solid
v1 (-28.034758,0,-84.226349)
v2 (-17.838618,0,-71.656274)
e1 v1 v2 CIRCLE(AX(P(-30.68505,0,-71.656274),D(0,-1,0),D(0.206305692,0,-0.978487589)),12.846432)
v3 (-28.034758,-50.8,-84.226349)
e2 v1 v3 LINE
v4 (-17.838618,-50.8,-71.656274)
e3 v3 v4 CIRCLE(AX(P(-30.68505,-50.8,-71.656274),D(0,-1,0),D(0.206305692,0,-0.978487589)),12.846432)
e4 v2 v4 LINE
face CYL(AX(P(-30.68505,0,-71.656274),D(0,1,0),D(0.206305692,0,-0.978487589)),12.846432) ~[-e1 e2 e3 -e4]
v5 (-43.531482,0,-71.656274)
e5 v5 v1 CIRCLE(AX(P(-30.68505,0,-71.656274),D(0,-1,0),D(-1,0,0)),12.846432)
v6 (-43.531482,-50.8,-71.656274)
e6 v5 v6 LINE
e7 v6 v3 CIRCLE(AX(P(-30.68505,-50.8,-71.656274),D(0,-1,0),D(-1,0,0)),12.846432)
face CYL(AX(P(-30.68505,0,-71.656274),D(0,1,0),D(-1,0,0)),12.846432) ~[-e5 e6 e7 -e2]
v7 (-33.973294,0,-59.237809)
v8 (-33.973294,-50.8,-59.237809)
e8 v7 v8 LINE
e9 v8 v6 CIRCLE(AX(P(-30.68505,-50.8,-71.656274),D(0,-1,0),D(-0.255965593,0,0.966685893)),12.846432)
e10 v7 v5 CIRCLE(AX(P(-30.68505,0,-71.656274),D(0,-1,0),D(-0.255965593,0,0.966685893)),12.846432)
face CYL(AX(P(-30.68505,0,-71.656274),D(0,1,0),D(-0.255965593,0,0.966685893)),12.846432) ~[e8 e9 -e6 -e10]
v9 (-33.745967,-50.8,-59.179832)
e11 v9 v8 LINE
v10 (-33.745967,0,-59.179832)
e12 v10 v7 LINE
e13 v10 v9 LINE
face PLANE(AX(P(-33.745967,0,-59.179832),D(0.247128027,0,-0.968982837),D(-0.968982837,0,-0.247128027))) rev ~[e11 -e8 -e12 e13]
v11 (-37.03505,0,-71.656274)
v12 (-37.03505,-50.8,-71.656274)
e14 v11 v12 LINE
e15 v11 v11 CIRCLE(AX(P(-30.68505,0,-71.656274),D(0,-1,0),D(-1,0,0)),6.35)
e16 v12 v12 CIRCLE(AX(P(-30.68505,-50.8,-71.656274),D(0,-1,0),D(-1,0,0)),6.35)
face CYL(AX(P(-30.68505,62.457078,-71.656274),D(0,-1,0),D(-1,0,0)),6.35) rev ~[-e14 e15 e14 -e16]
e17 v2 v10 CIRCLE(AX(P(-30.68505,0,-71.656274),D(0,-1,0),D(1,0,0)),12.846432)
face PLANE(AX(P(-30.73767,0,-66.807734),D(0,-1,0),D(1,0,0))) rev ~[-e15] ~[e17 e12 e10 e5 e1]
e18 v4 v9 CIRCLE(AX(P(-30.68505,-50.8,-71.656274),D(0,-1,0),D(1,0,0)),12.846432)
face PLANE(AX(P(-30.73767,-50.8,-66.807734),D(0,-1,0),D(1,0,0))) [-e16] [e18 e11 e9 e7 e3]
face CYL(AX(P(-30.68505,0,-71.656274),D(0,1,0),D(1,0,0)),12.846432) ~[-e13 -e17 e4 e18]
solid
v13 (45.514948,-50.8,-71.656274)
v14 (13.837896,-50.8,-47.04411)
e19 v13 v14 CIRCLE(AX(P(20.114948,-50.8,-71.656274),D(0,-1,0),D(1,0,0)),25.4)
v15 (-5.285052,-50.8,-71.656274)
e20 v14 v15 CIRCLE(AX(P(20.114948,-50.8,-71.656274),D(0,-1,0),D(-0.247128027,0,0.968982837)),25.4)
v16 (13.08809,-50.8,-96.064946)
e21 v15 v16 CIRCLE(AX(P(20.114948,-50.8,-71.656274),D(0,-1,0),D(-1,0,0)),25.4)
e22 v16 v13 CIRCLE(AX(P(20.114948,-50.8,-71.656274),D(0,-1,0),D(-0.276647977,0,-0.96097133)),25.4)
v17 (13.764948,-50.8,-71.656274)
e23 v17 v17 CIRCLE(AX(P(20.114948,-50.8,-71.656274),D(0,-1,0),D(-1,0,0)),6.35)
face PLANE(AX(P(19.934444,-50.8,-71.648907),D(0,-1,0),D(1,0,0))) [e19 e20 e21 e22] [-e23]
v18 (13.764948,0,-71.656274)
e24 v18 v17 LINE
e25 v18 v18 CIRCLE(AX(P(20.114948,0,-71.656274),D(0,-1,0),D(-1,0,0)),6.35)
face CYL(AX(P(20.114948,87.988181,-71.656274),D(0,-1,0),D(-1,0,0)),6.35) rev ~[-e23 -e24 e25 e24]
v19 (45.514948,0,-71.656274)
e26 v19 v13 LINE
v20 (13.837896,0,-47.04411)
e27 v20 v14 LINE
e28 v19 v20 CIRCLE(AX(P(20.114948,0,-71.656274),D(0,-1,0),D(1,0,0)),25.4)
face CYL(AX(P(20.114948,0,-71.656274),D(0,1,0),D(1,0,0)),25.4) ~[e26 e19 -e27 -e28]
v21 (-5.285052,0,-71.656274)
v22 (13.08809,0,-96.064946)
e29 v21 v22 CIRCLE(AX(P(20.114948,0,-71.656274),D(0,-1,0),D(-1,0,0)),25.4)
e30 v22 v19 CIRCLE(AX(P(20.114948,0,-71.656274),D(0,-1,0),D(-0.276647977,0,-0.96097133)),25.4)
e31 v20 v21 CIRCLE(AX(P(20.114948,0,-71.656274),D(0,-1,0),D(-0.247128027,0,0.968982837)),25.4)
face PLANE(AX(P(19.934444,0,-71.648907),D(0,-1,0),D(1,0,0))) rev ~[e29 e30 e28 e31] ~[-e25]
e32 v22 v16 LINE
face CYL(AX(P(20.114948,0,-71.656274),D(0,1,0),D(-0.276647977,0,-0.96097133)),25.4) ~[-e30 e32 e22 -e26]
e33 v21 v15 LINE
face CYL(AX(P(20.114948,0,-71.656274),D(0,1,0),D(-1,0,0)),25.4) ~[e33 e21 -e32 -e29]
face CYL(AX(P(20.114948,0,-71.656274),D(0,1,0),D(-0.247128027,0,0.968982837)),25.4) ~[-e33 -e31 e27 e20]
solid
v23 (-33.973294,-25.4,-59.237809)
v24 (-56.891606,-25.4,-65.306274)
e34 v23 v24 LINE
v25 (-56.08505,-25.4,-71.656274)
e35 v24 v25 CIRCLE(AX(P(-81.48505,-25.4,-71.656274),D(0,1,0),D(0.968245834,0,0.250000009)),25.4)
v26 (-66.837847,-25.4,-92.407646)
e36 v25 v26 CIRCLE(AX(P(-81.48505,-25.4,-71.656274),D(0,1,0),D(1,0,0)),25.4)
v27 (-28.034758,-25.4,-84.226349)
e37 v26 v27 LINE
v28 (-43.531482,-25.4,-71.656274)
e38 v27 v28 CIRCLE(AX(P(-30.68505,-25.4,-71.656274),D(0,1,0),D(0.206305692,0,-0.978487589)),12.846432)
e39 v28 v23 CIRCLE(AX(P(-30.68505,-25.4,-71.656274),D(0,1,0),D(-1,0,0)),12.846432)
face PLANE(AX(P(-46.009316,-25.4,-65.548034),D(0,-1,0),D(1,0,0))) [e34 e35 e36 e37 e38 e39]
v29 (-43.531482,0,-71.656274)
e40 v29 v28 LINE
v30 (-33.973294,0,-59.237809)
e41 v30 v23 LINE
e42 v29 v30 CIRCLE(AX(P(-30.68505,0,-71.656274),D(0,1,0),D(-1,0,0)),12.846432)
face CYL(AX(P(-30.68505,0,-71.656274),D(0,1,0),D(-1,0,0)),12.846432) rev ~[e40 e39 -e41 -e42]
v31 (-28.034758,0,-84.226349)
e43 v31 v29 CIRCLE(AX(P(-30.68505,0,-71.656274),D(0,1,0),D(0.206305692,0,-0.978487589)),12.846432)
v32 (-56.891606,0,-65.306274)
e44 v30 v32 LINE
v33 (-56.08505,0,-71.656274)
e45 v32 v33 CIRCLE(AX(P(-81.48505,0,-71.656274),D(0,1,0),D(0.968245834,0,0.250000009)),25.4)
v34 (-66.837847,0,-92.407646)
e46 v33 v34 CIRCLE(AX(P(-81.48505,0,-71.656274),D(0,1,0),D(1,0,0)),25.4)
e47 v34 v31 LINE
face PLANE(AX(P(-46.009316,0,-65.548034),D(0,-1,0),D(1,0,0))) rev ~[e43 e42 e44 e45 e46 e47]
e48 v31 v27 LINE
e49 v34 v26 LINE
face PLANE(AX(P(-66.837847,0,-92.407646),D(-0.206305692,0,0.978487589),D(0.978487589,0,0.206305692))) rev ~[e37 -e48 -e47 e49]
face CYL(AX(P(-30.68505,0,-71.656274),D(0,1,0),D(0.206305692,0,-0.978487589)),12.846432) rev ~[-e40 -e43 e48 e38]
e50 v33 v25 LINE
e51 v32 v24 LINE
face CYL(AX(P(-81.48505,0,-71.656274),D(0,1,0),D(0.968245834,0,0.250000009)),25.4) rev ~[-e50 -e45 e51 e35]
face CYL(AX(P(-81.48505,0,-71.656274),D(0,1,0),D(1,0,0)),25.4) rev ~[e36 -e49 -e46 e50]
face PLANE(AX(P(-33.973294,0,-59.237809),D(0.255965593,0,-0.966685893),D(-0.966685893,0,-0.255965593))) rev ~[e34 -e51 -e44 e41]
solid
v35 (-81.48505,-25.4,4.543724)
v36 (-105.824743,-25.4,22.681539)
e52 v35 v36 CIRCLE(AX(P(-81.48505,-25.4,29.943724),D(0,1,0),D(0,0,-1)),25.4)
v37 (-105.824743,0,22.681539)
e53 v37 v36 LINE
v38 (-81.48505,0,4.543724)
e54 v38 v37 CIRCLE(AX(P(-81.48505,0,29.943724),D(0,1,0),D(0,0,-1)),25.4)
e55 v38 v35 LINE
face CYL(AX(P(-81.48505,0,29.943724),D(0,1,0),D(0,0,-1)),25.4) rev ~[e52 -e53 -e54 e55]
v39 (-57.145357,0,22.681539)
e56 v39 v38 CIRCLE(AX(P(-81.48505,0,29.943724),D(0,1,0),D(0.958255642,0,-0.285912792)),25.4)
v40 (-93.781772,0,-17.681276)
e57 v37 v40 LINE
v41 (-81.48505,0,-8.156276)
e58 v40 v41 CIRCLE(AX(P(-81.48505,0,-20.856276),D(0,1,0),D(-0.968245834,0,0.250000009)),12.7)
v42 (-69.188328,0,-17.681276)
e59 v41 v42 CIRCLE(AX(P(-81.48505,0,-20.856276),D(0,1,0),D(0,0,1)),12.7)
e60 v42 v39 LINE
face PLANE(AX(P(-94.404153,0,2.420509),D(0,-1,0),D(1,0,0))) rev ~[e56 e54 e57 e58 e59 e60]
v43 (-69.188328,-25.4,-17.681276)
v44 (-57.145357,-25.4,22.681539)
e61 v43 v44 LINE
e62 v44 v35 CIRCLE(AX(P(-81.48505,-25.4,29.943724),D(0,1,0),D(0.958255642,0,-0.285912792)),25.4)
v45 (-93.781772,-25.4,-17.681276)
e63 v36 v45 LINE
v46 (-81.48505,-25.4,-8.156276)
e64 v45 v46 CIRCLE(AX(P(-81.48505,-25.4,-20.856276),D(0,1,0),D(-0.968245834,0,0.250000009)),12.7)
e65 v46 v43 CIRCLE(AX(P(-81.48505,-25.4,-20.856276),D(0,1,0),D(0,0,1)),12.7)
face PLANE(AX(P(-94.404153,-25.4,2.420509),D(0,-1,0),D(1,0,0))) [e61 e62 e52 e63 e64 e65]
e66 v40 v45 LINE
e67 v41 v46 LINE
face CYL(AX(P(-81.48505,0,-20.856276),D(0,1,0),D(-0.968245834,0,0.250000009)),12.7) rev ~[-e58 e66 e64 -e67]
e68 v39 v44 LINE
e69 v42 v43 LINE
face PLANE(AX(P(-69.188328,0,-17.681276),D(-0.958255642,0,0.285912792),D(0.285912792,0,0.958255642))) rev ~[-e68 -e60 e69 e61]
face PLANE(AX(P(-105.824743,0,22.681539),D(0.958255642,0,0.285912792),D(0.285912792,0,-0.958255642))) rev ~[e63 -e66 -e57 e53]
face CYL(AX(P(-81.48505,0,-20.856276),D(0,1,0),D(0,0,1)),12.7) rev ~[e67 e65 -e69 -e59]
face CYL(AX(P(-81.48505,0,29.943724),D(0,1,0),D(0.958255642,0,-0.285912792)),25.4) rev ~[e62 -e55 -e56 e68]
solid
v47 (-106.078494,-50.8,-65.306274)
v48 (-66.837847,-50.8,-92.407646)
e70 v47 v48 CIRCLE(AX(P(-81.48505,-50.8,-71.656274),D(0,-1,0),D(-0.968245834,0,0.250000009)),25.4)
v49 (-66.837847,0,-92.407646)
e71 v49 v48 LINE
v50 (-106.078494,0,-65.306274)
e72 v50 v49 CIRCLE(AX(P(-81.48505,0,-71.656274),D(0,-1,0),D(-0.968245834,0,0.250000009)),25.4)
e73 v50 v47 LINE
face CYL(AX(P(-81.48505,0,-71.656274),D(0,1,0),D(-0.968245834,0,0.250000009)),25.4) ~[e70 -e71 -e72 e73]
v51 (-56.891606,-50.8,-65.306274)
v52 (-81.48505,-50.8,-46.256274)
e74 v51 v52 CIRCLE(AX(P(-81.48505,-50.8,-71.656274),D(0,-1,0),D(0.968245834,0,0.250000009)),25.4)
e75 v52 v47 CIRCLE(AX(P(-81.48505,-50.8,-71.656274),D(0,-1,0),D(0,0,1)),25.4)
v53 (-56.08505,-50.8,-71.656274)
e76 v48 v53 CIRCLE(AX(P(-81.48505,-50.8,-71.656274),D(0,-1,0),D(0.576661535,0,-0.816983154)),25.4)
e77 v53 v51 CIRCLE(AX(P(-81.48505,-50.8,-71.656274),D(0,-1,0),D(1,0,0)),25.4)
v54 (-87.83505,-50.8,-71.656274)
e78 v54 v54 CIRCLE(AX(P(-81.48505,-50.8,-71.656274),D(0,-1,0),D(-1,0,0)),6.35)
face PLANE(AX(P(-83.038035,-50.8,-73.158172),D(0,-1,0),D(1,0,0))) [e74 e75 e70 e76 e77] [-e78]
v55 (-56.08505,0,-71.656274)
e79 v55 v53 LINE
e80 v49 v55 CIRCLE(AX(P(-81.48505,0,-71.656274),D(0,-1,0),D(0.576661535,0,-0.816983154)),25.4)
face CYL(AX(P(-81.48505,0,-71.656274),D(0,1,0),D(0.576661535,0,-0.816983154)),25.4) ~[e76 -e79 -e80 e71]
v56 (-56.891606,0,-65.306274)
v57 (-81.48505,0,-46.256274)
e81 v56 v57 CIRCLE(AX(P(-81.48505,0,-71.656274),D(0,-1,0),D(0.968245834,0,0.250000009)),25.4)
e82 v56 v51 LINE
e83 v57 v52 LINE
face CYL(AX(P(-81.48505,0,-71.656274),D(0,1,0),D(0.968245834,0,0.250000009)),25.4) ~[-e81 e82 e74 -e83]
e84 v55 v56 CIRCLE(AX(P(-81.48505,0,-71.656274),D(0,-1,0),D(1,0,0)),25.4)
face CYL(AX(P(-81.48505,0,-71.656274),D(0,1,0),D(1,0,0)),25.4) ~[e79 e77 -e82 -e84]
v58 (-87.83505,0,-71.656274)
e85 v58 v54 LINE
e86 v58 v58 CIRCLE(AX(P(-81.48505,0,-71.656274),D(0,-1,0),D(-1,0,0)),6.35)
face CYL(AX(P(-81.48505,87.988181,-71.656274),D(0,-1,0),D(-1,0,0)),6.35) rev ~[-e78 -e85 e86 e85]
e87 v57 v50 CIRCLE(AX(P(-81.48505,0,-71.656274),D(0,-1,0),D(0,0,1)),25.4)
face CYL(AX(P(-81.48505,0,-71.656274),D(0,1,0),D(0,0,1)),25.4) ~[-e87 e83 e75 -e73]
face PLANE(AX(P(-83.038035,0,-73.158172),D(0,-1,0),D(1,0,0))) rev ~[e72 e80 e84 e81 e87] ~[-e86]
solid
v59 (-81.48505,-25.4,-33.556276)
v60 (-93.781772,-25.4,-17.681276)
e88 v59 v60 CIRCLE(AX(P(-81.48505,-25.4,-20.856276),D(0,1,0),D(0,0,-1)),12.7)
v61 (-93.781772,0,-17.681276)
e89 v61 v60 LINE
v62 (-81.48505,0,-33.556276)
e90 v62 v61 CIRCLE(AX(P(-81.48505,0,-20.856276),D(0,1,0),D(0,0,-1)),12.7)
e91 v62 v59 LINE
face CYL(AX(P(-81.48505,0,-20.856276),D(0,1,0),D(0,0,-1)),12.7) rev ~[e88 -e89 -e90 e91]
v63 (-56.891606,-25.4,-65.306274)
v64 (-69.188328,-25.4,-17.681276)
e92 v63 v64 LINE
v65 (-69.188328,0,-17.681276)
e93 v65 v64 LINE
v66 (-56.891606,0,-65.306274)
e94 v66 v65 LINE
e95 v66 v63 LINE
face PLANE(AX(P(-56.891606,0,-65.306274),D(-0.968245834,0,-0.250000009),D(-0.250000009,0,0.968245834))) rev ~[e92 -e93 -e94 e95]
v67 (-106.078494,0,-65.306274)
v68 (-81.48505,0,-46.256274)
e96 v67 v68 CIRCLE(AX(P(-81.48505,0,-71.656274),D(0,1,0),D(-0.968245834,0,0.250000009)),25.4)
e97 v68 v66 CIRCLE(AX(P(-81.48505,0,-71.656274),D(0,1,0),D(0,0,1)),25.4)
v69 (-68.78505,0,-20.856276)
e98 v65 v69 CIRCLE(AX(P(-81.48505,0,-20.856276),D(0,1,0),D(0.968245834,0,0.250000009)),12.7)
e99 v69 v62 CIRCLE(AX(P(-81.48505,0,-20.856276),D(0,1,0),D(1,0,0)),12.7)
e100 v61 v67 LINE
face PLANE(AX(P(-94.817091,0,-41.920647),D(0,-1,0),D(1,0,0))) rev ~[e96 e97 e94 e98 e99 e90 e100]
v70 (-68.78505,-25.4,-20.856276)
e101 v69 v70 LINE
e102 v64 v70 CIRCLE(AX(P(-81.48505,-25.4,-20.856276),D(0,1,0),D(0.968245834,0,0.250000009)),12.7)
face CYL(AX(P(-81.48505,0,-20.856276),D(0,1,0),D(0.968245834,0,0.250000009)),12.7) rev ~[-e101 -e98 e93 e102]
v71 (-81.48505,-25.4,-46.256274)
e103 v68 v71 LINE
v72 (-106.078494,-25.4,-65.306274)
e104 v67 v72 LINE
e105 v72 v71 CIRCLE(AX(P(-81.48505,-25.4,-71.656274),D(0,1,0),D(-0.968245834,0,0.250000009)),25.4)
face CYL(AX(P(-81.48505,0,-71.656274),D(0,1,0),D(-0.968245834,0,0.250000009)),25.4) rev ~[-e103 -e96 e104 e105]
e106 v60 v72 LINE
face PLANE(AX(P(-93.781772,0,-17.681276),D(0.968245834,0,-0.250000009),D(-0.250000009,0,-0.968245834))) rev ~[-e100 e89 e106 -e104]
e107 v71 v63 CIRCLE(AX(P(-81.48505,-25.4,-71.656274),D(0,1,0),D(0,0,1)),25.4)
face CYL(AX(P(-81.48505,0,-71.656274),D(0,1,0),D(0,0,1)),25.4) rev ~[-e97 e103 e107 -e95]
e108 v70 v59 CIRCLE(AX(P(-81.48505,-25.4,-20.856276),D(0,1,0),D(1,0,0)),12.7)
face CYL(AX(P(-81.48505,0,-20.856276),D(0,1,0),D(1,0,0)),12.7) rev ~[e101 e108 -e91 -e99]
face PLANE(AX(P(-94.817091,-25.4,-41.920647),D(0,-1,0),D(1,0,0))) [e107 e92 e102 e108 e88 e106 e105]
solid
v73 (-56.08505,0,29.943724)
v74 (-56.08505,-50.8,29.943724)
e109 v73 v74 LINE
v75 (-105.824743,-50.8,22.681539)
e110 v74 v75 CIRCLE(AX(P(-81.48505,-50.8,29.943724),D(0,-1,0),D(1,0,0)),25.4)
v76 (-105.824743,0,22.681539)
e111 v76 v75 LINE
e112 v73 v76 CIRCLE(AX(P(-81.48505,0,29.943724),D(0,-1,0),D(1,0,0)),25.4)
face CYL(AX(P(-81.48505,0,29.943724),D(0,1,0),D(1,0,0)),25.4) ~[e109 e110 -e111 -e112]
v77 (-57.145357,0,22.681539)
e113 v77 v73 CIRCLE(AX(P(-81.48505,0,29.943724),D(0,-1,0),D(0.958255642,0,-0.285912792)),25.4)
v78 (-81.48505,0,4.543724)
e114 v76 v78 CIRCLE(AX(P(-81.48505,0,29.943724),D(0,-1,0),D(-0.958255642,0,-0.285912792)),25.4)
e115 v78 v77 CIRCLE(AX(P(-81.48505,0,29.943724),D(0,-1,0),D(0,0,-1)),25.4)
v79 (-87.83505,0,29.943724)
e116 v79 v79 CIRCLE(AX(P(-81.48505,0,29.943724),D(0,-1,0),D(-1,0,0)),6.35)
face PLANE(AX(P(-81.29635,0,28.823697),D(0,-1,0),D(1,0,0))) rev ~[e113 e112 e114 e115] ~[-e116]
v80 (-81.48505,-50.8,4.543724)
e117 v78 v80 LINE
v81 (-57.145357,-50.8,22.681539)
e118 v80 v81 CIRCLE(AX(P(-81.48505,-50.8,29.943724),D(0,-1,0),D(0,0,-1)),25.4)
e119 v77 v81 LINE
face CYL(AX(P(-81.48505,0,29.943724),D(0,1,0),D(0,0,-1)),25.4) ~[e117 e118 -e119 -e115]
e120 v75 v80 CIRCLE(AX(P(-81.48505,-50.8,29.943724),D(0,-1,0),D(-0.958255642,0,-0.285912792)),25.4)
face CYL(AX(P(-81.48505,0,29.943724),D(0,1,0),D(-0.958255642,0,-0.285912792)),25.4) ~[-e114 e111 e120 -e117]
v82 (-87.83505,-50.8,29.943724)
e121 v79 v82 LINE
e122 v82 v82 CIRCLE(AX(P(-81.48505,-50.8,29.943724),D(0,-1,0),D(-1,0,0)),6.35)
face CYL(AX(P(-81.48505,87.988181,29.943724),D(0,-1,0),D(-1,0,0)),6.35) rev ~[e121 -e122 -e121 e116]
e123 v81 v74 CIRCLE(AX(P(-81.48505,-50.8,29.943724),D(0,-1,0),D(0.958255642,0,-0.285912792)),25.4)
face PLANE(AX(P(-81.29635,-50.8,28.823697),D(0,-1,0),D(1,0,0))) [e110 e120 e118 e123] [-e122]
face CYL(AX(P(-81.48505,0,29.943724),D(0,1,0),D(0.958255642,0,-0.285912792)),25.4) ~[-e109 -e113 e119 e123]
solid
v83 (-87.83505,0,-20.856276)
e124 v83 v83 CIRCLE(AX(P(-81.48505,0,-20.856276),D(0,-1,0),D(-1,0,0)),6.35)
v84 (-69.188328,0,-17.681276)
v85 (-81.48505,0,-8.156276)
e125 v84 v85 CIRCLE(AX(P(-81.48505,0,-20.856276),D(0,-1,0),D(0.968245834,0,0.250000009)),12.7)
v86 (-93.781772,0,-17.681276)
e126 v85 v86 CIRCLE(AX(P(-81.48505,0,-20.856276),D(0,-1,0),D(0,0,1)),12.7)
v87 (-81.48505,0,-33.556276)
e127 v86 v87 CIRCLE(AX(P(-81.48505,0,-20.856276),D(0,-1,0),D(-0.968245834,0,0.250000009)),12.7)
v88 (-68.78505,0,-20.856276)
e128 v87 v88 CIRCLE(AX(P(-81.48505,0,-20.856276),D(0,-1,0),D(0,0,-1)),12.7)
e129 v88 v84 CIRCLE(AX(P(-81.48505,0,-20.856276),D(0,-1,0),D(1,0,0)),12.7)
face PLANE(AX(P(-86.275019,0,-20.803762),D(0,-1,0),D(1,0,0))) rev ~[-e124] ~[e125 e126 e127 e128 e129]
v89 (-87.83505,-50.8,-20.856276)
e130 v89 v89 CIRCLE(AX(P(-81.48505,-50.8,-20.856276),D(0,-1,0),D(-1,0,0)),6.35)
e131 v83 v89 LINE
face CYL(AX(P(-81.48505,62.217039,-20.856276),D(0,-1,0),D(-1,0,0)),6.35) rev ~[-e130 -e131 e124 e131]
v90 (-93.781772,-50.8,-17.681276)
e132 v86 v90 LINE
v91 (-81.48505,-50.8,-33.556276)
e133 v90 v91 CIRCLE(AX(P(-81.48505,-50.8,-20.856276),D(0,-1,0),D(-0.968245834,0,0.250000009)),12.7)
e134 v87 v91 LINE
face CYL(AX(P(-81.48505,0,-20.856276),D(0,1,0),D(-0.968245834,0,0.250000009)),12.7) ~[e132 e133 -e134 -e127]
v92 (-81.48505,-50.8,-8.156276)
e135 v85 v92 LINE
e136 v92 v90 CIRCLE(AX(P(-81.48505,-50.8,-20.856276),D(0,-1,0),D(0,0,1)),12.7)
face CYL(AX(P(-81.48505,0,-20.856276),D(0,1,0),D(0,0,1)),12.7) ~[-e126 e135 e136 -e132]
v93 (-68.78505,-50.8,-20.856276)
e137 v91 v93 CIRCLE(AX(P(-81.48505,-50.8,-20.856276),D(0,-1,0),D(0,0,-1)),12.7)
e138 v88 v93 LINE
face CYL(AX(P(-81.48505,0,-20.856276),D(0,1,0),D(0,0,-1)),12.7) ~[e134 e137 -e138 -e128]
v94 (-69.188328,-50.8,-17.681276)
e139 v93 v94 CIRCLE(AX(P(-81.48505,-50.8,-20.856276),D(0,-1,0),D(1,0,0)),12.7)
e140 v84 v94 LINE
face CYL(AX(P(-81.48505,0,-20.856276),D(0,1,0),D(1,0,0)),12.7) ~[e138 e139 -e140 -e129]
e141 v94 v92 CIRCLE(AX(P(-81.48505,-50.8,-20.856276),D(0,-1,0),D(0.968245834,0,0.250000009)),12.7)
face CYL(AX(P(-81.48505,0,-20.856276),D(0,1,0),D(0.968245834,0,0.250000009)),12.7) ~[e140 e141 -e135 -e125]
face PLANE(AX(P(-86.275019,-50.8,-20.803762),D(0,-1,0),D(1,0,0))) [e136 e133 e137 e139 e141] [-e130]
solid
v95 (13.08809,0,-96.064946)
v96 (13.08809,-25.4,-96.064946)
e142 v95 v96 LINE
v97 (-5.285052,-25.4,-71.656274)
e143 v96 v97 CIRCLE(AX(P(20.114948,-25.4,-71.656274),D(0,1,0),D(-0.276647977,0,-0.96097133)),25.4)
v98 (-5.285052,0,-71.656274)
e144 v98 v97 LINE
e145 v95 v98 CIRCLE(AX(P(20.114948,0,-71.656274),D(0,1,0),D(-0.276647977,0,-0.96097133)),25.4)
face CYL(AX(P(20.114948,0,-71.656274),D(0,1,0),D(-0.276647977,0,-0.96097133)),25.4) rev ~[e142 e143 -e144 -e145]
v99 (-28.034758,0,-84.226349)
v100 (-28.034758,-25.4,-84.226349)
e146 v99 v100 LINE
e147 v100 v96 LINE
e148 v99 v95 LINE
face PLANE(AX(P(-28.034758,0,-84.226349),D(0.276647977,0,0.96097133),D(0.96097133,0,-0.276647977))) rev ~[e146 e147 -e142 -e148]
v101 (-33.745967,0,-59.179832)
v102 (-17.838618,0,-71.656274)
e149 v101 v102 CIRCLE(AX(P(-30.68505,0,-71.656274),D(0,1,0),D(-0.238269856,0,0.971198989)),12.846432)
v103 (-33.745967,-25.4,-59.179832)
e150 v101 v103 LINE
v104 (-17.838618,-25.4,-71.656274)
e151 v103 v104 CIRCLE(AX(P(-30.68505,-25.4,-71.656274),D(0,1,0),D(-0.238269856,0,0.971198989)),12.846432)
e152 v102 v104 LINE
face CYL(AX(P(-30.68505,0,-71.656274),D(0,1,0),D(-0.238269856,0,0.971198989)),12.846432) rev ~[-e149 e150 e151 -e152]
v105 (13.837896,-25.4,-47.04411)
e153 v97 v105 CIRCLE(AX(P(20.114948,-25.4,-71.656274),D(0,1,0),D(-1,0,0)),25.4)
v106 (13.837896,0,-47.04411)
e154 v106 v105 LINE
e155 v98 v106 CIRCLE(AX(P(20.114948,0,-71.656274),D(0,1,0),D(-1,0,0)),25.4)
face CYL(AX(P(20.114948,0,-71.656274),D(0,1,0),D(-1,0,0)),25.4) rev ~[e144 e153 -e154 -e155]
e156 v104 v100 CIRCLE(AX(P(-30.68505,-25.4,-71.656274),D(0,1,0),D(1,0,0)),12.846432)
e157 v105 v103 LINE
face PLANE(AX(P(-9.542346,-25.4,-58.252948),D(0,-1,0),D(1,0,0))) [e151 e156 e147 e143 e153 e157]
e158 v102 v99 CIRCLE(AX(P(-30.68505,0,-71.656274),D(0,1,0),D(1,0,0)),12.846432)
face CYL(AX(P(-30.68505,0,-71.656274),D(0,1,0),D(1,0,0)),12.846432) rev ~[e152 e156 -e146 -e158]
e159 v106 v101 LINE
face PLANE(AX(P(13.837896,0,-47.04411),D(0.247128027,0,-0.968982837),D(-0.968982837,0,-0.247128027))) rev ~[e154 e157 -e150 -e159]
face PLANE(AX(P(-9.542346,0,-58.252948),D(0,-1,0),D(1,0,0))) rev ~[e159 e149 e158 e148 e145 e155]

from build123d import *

# Parameters (mm, degrees)
F1_DEPTH = 50.8
F2_DEPTH = 25.4
F3_D     = 12.7
F3_2_D   = 12.7
F3_3_D   = 12.7
F3_4_D   = 12.7
F3_5_D   = 12.7


with BuildPart() as f1:
    # F0 (on Front) → F1 (new body)
    with BuildSketch(Plane.XZ):
        with BuildLine():
            ThreePointArc((-81.4850498225, 4.5437239793), (-66.3077558729, 9.5768452697), (-57.1453565147, 22.6815390684))
            ThreePointArc((-57.1453565147, 22.6815390684), (-56.3515243036, 26.2741334039), (-56.0850498225, 29.9437239793))
            ThreePointArc((-56.0850498225, 29.9437239793), (-85.1546403978, 55.0772494982), (-105.8247431304, 22.6815390684))
            ThreePointArc((-105.8247431304, 22.6815390684), (-96.6623437721, 9.5768452697), (-81.4850498225, 4.5437239793))
        make_face()
    extrude(amount=F1_DEPTH)

    # F3 (through all)
    with Locations(Plane(origin=(0, 0, 0), x_dir=(1, 0, 0), z_dir=(0, 1, 0))):
        with Locations((-81.4850498225, -29.9437239793), (-81.4850498225, 20.8562760207), (-81.4850498225, 71.6562741589), (-30.6850498225, 71.6562741589), (20.1149483157, 71.6562741589)):
            Hole(F3_D / 2)


with BuildPart() as f1b:
    # F0 (on Front) → F1, piece 2 (new body)
    with BuildSketch(Plane.XZ):
        with BuildLine():
            Line((-56.0850498225, -71.6562741589), (-81.4850498225, -71.6562741589))
            Line((-81.4850498225, -71.6562741589), (-81.4850498225, -46.2562741589))
            ThreePointArc((-81.4850498225, -46.2562741589), (-97.0393095942, -51.5758109432), (-106.0784940108, -65.3062739262))
            ThreePointArc((-106.0784940108, -65.3062739262), (-95.9194886513, -92.5562018071), (-66.8378468362, -92.4076462744))
            ThreePointArc((-66.8378468362, -92.4076462744), (-58.9328996384, -83.3421854231), (-56.0850498225, -71.6562741589))
        make_face()
        with BuildLine():
            Line((-81.4850498225, -46.2562741589), (-81.4850498225, -71.6562741589))
            Line((-81.4850498225, -71.6562741589), (-56.0850498225, -71.6562741589))
            ThreePointArc((-56.0850498225, -71.6562741589), (-56.2874955525, -68.4557650106), (-56.8916056342, -65.3062739262))
            ThreePointArc((-56.8916056342, -65.3062739262), (-65.9307900508, -51.5758109432), (-81.4850498225, -46.2562741589))
        make_face()
    extrude(amount=F1_DEPTH)

    # F3#2 (through all)
    with Locations(Plane(origin=(0, 0, 0), x_dir=(1, 0, 0), z_dir=(0, 1, 0))):
        with Locations((-81.4850498225, -29.9437239793), (-81.4850498225, 20.8562760207), (-81.4850498225, 71.6562741589), (-30.6850498225, 71.6562741589), (20.1149483157, 71.6562741589)):
            Hole(F3_2_D / 2)


with BuildPart() as f1c:
    # F0 (on Front) → F1, piece 3 (new body)
    with BuildSketch(Plane.XZ):
        with BuildLine():
            ThreePointArc((-5.2850516843, -71.6562741589), (-0.1784275618, -86.9317085389), (13.0880896934, -96.0649459356))
            ThreePointArc((13.0880896934, -96.0649459356), (35.3903826957, -91.9496500363), (45.5149483157, -71.6562741589))
            ThreePointArc((45.5149483157, -71.6562741589), (35.6989606694, -51.5988925013), (13.8378964291, -47.044110101))
            ThreePointArc((13.8378964291, -47.044110101), (0.057566658, -56.0722618052), (-5.2850516843, -71.6562741589))
        make_face()
    extrude(amount=F1_DEPTH)

    # F3#3 (through all)
    with Locations(Plane(origin=(0, 0, 0), x_dir=(1, 0, 0), z_dir=(0, 1, 0))):
        with Locations((-81.4850498225, -29.9437239793), (-81.4850498225, 20.8562760207), (-81.4850498225, 71.6562741589), (-30.6850498225, 71.6562741589), (20.1149483157, 71.6562741589)):
            Hole(F3_3_D / 2)


with BuildPart() as f1d:
    # F0 (on Front) → F1, piece 4 (new body)
    with BuildSketch(Plane.XZ):
        with BuildLine():
            ThreePointArc((-93.7817719167, -17.6812759044), (-91.5252814303, -28.6334059066), (-81.4850498225, -33.5562760207))
            Line((-81.4850498225, -33.5562760207), (-81.4850498225, -20.8562760207))
            Line((-81.4850498225, -20.8562760207), (-81.4850498225, -8.1562760207))
            ThreePointArc((-81.4850498225, -8.1562760207), (-89.2621797083, -10.8160444129), (-93.7817719167, -17.6812759044))
        make_face()
        with BuildLine():
            Line((-81.4850498225, -20.8562760207), (-81.4850498225, -33.5562760207))
            ThreePointArc((-81.4850498225, -33.5562760207), (-72.5047937014, -29.8365321418), (-68.7850498225, -20.8562760207))
            ThreePointArc((-68.7850498225, -20.8562760207), (-68.8862726875, -19.2560214466), (-69.1883277283, -17.6812759044))
            ThreePointArc((-69.1883277283, -17.6812759044), (-73.7079199367, -10.8160444129), (-81.4850498225, -8.1562760207))
            Line((-81.4850498225, -8.1562760207), (-81.4850498225, -20.8562760207))
        make_face()
    extrude(amount=F1_DEPTH)

    # F3#4 (through all)
    with Locations(Plane(origin=(0, 0, 0), x_dir=(1, 0, 0), z_dir=(0, 1, 0))):
        with Locations((-81.4850498225, -29.9437239793), (-81.4850498225, 20.8562760207), (-81.4850498225, 71.6562741589), (-30.6850498225, 71.6562741589), (20.1149483157, 71.6562741589)):
            Hole(F3_4_D / 2)


with BuildPart() as f1e:
    # F0 (on Front) → F1, piece 5 (new body)
    with BuildSketch(Plane.XZ):
        with BuildLine():
            ThreePointArc((-33.9732944715, -59.2378093359), (-40.865252019, -63.8208223741), (-43.5314820678, -71.6562741589))
            Line((-43.5314820678, -71.6562741589), (-30.6850498225, -71.6562741589))
            Line((-30.6850498225, -71.6562741589), (-17.8386175772, -71.6562741589))
            ThreePointArc((-17.8386175772, -71.6562741589), (-22.7569683581, -61.5480425763), (-33.7459673809, -59.1798321527))
            Line((-33.7459673809, -59.1798321527), (-33.9732944715, -59.2378093359))
        make_face()
        with BuildLine():
            Line((-30.6850498225, -71.6562741589), (-43.5314820678, -71.6562741589))
            ThreePointArc((-43.5314820678, -71.6562741589), (-38.7777633216, -81.6331879931), (-28.0347577237, -84.2263486704))
            ThreePointArc((-28.0347577237, -84.2263486704), (-20.7081359883, -79.748987658), (-17.8386175772, -71.6562741589))
            Line((-17.8386175772, -71.6562741589), (-30.6850498225, -71.6562741589))
        make_face()
    extrude(amount=F1_DEPTH)

    # F3#5 (through all)
    with Locations(Plane(origin=(0, 0, 0), x_dir=(1, 0, 0), z_dir=(0, 1, 0))):
        with Locations((-81.4850498225, -29.9437239793), (-81.4850498225, 20.8562760207), (-81.4850498225, 71.6562741589), (-30.6850498225, 71.6562741589), (20.1149483157, 71.6562741589)):
            Hole(F3_5_D / 2)


with BuildPart() as f2:
    # F0 (on Front) → F2 (new body)
    with BuildSketch(Plane.XZ):
        with BuildLine():
            Line((-105.8247431304, 22.6815390684), (-93.7817719167, -17.6812759044))
            ThreePointArc((-93.7817719167, -17.6812759044), (-89.2621797083, -10.8160444129), (-81.4850498225, -8.1562760207))
            Line((-81.4850498225, -8.1562760207), (-81.4850498225, 4.5437239793))
            ThreePointArc((-81.4850498225, 4.5437239793), (-96.6623437721, 9.5768452697), (-105.8247431304, 22.6815390684))
        make_face()
        with BuildLine():
            ThreePointArc((-81.4850498225, -8.1562760207), (-73.7079199367, -10.8160444129), (-69.1883277283, -17.6812759044))
            Line((-69.1883277283, -17.6812759044), (-57.1453565147, 22.6815390684))
            ThreePointArc((-57.1453565147, 22.6815390684), (-66.3077558729, 9.5768452697), (-81.4850498225, 4.5437239793))
            Line((-81.4850498225, 4.5437239793), (-81.4850498225, -8.1562760207))
        make_face()
    extrude(amount=F2_DEPTH)


with BuildPart() as f2b:
    # F0 (on Front) → F2, piece 2 (new body)
    with BuildSketch(Plane.XZ):
        with BuildLine():
            ThreePointArc((-106.0784940108, -65.3062739262), (-97.0393095942, -51.5758109432), (-81.4850498225, -46.2562741589))
            Line((-81.4850498225, -46.2562741589), (-81.4850498225, -33.5562760207))
            ThreePointArc((-81.4850498225, -33.5562760207), (-91.5252814303, -28.6334059066), (-93.7817719167, -17.6812759044))
            Line((-93.7817719167, -17.6812759044), (-106.0784940108, -65.3062739262))
        make_face()
        with BuildLine():
            Line((-81.4850498225, -33.5562760207), (-81.4850498225, -46.2562741589))
            ThreePointArc((-81.4850498225, -46.2562741589), (-65.9307900508, -51.5758109432), (-56.8916056342, -65.3062739262))
            Line((-56.8916056342, -65.3062739262), (-69.1883277283, -17.6812759044))
            ThreePointArc((-69.1883277283, -17.6812759044), (-68.8862726875, -19.2560214466), (-68.7850498225, -20.8562760207))
            ThreePointArc((-68.7850498225, -20.8562760207), (-72.5047937014, -29.8365321418), (-81.4850498225, -33.5562760207))
        make_face()
    extrude(amount=F2_DEPTH)


with BuildPart() as f2c:
    # F0 (on Front) → F2, piece 3 (new body)
    with BuildSketch(Plane.XZ):
        with BuildLine():
            ThreePointArc((-56.8916056342, -65.3062739262), (-56.2874955525, -68.4557650106), (-56.0850498225, -71.6562741589))
            Line((-56.0850498225, -71.6562741589), (-43.5314820678, -71.6562741589))
            ThreePointArc((-43.5314820678, -71.6562741589), (-40.865252019, -63.8208223741), (-33.9732944715, -59.2378093359))
            Line((-33.9732944715, -59.2378093359), (-56.8916056342, -65.3062739262))
        make_face()
        with BuildLine():
            Line((-43.5314820678, -71.6562741589), (-56.0850498225, -71.6562741589))
            ThreePointArc((-56.0850498225, -71.6562741589), (-58.9328996384, -83.3421854231), (-66.8378468362, -92.4076462744))
            Line((-66.8378468362, -92.4076462744), (-28.0347577237, -84.2263486704))
            ThreePointArc((-28.0347577237, -84.2263486704), (-38.7777633216, -81.6331879931), (-43.5314820678, -71.6562741589))
        make_face()
    extrude(amount=F2_DEPTH)


with BuildPart() as f2d:
    # F0 (on Front) → F2, piece 4 (new body)
    with BuildSketch(Plane.XZ):
        with BuildLine():
            ThreePointArc((-33.7459673809, -59.1798321527), (-22.7569683581, -61.5480425763), (-17.8386175772, -71.6562741589))
            Line((-17.8386175772, -71.6562741589), (-5.2850516843, -71.6562741589))
            ThreePointArc((-5.2850516843, -71.6562741589), (0.057566658, -56.0722618052), (13.8378964291, -47.044110101))
            Line((13.8378964291, -47.044110101), (-33.7459673809, -59.1798321527))
        make_face()
        with BuildLine():
            ThreePointArc((-17.8386175772, -71.6562741589), (-20.7081359883, -79.748987658), (-28.0347577237, -84.2263486704))
            Line((-28.0347577237, -84.2263486704), (13.0880896934, -96.0649459356))
            ThreePointArc((13.0880896934, -96.0649459356), (-0.1784275618, -86.9317085389), (-5.2850516843, -71.6562741589))
            Line((-5.2850516843, -71.6562741589), (-17.8386175772, -71.6562741589))
        make_face()
    extrude(amount=F2_DEPTH)


solid = Compound([f1.part, f1b.part, f1c.part, f1d.part, f1e.part, f2.part, f2b.part, f2c.part, f2d.part])
